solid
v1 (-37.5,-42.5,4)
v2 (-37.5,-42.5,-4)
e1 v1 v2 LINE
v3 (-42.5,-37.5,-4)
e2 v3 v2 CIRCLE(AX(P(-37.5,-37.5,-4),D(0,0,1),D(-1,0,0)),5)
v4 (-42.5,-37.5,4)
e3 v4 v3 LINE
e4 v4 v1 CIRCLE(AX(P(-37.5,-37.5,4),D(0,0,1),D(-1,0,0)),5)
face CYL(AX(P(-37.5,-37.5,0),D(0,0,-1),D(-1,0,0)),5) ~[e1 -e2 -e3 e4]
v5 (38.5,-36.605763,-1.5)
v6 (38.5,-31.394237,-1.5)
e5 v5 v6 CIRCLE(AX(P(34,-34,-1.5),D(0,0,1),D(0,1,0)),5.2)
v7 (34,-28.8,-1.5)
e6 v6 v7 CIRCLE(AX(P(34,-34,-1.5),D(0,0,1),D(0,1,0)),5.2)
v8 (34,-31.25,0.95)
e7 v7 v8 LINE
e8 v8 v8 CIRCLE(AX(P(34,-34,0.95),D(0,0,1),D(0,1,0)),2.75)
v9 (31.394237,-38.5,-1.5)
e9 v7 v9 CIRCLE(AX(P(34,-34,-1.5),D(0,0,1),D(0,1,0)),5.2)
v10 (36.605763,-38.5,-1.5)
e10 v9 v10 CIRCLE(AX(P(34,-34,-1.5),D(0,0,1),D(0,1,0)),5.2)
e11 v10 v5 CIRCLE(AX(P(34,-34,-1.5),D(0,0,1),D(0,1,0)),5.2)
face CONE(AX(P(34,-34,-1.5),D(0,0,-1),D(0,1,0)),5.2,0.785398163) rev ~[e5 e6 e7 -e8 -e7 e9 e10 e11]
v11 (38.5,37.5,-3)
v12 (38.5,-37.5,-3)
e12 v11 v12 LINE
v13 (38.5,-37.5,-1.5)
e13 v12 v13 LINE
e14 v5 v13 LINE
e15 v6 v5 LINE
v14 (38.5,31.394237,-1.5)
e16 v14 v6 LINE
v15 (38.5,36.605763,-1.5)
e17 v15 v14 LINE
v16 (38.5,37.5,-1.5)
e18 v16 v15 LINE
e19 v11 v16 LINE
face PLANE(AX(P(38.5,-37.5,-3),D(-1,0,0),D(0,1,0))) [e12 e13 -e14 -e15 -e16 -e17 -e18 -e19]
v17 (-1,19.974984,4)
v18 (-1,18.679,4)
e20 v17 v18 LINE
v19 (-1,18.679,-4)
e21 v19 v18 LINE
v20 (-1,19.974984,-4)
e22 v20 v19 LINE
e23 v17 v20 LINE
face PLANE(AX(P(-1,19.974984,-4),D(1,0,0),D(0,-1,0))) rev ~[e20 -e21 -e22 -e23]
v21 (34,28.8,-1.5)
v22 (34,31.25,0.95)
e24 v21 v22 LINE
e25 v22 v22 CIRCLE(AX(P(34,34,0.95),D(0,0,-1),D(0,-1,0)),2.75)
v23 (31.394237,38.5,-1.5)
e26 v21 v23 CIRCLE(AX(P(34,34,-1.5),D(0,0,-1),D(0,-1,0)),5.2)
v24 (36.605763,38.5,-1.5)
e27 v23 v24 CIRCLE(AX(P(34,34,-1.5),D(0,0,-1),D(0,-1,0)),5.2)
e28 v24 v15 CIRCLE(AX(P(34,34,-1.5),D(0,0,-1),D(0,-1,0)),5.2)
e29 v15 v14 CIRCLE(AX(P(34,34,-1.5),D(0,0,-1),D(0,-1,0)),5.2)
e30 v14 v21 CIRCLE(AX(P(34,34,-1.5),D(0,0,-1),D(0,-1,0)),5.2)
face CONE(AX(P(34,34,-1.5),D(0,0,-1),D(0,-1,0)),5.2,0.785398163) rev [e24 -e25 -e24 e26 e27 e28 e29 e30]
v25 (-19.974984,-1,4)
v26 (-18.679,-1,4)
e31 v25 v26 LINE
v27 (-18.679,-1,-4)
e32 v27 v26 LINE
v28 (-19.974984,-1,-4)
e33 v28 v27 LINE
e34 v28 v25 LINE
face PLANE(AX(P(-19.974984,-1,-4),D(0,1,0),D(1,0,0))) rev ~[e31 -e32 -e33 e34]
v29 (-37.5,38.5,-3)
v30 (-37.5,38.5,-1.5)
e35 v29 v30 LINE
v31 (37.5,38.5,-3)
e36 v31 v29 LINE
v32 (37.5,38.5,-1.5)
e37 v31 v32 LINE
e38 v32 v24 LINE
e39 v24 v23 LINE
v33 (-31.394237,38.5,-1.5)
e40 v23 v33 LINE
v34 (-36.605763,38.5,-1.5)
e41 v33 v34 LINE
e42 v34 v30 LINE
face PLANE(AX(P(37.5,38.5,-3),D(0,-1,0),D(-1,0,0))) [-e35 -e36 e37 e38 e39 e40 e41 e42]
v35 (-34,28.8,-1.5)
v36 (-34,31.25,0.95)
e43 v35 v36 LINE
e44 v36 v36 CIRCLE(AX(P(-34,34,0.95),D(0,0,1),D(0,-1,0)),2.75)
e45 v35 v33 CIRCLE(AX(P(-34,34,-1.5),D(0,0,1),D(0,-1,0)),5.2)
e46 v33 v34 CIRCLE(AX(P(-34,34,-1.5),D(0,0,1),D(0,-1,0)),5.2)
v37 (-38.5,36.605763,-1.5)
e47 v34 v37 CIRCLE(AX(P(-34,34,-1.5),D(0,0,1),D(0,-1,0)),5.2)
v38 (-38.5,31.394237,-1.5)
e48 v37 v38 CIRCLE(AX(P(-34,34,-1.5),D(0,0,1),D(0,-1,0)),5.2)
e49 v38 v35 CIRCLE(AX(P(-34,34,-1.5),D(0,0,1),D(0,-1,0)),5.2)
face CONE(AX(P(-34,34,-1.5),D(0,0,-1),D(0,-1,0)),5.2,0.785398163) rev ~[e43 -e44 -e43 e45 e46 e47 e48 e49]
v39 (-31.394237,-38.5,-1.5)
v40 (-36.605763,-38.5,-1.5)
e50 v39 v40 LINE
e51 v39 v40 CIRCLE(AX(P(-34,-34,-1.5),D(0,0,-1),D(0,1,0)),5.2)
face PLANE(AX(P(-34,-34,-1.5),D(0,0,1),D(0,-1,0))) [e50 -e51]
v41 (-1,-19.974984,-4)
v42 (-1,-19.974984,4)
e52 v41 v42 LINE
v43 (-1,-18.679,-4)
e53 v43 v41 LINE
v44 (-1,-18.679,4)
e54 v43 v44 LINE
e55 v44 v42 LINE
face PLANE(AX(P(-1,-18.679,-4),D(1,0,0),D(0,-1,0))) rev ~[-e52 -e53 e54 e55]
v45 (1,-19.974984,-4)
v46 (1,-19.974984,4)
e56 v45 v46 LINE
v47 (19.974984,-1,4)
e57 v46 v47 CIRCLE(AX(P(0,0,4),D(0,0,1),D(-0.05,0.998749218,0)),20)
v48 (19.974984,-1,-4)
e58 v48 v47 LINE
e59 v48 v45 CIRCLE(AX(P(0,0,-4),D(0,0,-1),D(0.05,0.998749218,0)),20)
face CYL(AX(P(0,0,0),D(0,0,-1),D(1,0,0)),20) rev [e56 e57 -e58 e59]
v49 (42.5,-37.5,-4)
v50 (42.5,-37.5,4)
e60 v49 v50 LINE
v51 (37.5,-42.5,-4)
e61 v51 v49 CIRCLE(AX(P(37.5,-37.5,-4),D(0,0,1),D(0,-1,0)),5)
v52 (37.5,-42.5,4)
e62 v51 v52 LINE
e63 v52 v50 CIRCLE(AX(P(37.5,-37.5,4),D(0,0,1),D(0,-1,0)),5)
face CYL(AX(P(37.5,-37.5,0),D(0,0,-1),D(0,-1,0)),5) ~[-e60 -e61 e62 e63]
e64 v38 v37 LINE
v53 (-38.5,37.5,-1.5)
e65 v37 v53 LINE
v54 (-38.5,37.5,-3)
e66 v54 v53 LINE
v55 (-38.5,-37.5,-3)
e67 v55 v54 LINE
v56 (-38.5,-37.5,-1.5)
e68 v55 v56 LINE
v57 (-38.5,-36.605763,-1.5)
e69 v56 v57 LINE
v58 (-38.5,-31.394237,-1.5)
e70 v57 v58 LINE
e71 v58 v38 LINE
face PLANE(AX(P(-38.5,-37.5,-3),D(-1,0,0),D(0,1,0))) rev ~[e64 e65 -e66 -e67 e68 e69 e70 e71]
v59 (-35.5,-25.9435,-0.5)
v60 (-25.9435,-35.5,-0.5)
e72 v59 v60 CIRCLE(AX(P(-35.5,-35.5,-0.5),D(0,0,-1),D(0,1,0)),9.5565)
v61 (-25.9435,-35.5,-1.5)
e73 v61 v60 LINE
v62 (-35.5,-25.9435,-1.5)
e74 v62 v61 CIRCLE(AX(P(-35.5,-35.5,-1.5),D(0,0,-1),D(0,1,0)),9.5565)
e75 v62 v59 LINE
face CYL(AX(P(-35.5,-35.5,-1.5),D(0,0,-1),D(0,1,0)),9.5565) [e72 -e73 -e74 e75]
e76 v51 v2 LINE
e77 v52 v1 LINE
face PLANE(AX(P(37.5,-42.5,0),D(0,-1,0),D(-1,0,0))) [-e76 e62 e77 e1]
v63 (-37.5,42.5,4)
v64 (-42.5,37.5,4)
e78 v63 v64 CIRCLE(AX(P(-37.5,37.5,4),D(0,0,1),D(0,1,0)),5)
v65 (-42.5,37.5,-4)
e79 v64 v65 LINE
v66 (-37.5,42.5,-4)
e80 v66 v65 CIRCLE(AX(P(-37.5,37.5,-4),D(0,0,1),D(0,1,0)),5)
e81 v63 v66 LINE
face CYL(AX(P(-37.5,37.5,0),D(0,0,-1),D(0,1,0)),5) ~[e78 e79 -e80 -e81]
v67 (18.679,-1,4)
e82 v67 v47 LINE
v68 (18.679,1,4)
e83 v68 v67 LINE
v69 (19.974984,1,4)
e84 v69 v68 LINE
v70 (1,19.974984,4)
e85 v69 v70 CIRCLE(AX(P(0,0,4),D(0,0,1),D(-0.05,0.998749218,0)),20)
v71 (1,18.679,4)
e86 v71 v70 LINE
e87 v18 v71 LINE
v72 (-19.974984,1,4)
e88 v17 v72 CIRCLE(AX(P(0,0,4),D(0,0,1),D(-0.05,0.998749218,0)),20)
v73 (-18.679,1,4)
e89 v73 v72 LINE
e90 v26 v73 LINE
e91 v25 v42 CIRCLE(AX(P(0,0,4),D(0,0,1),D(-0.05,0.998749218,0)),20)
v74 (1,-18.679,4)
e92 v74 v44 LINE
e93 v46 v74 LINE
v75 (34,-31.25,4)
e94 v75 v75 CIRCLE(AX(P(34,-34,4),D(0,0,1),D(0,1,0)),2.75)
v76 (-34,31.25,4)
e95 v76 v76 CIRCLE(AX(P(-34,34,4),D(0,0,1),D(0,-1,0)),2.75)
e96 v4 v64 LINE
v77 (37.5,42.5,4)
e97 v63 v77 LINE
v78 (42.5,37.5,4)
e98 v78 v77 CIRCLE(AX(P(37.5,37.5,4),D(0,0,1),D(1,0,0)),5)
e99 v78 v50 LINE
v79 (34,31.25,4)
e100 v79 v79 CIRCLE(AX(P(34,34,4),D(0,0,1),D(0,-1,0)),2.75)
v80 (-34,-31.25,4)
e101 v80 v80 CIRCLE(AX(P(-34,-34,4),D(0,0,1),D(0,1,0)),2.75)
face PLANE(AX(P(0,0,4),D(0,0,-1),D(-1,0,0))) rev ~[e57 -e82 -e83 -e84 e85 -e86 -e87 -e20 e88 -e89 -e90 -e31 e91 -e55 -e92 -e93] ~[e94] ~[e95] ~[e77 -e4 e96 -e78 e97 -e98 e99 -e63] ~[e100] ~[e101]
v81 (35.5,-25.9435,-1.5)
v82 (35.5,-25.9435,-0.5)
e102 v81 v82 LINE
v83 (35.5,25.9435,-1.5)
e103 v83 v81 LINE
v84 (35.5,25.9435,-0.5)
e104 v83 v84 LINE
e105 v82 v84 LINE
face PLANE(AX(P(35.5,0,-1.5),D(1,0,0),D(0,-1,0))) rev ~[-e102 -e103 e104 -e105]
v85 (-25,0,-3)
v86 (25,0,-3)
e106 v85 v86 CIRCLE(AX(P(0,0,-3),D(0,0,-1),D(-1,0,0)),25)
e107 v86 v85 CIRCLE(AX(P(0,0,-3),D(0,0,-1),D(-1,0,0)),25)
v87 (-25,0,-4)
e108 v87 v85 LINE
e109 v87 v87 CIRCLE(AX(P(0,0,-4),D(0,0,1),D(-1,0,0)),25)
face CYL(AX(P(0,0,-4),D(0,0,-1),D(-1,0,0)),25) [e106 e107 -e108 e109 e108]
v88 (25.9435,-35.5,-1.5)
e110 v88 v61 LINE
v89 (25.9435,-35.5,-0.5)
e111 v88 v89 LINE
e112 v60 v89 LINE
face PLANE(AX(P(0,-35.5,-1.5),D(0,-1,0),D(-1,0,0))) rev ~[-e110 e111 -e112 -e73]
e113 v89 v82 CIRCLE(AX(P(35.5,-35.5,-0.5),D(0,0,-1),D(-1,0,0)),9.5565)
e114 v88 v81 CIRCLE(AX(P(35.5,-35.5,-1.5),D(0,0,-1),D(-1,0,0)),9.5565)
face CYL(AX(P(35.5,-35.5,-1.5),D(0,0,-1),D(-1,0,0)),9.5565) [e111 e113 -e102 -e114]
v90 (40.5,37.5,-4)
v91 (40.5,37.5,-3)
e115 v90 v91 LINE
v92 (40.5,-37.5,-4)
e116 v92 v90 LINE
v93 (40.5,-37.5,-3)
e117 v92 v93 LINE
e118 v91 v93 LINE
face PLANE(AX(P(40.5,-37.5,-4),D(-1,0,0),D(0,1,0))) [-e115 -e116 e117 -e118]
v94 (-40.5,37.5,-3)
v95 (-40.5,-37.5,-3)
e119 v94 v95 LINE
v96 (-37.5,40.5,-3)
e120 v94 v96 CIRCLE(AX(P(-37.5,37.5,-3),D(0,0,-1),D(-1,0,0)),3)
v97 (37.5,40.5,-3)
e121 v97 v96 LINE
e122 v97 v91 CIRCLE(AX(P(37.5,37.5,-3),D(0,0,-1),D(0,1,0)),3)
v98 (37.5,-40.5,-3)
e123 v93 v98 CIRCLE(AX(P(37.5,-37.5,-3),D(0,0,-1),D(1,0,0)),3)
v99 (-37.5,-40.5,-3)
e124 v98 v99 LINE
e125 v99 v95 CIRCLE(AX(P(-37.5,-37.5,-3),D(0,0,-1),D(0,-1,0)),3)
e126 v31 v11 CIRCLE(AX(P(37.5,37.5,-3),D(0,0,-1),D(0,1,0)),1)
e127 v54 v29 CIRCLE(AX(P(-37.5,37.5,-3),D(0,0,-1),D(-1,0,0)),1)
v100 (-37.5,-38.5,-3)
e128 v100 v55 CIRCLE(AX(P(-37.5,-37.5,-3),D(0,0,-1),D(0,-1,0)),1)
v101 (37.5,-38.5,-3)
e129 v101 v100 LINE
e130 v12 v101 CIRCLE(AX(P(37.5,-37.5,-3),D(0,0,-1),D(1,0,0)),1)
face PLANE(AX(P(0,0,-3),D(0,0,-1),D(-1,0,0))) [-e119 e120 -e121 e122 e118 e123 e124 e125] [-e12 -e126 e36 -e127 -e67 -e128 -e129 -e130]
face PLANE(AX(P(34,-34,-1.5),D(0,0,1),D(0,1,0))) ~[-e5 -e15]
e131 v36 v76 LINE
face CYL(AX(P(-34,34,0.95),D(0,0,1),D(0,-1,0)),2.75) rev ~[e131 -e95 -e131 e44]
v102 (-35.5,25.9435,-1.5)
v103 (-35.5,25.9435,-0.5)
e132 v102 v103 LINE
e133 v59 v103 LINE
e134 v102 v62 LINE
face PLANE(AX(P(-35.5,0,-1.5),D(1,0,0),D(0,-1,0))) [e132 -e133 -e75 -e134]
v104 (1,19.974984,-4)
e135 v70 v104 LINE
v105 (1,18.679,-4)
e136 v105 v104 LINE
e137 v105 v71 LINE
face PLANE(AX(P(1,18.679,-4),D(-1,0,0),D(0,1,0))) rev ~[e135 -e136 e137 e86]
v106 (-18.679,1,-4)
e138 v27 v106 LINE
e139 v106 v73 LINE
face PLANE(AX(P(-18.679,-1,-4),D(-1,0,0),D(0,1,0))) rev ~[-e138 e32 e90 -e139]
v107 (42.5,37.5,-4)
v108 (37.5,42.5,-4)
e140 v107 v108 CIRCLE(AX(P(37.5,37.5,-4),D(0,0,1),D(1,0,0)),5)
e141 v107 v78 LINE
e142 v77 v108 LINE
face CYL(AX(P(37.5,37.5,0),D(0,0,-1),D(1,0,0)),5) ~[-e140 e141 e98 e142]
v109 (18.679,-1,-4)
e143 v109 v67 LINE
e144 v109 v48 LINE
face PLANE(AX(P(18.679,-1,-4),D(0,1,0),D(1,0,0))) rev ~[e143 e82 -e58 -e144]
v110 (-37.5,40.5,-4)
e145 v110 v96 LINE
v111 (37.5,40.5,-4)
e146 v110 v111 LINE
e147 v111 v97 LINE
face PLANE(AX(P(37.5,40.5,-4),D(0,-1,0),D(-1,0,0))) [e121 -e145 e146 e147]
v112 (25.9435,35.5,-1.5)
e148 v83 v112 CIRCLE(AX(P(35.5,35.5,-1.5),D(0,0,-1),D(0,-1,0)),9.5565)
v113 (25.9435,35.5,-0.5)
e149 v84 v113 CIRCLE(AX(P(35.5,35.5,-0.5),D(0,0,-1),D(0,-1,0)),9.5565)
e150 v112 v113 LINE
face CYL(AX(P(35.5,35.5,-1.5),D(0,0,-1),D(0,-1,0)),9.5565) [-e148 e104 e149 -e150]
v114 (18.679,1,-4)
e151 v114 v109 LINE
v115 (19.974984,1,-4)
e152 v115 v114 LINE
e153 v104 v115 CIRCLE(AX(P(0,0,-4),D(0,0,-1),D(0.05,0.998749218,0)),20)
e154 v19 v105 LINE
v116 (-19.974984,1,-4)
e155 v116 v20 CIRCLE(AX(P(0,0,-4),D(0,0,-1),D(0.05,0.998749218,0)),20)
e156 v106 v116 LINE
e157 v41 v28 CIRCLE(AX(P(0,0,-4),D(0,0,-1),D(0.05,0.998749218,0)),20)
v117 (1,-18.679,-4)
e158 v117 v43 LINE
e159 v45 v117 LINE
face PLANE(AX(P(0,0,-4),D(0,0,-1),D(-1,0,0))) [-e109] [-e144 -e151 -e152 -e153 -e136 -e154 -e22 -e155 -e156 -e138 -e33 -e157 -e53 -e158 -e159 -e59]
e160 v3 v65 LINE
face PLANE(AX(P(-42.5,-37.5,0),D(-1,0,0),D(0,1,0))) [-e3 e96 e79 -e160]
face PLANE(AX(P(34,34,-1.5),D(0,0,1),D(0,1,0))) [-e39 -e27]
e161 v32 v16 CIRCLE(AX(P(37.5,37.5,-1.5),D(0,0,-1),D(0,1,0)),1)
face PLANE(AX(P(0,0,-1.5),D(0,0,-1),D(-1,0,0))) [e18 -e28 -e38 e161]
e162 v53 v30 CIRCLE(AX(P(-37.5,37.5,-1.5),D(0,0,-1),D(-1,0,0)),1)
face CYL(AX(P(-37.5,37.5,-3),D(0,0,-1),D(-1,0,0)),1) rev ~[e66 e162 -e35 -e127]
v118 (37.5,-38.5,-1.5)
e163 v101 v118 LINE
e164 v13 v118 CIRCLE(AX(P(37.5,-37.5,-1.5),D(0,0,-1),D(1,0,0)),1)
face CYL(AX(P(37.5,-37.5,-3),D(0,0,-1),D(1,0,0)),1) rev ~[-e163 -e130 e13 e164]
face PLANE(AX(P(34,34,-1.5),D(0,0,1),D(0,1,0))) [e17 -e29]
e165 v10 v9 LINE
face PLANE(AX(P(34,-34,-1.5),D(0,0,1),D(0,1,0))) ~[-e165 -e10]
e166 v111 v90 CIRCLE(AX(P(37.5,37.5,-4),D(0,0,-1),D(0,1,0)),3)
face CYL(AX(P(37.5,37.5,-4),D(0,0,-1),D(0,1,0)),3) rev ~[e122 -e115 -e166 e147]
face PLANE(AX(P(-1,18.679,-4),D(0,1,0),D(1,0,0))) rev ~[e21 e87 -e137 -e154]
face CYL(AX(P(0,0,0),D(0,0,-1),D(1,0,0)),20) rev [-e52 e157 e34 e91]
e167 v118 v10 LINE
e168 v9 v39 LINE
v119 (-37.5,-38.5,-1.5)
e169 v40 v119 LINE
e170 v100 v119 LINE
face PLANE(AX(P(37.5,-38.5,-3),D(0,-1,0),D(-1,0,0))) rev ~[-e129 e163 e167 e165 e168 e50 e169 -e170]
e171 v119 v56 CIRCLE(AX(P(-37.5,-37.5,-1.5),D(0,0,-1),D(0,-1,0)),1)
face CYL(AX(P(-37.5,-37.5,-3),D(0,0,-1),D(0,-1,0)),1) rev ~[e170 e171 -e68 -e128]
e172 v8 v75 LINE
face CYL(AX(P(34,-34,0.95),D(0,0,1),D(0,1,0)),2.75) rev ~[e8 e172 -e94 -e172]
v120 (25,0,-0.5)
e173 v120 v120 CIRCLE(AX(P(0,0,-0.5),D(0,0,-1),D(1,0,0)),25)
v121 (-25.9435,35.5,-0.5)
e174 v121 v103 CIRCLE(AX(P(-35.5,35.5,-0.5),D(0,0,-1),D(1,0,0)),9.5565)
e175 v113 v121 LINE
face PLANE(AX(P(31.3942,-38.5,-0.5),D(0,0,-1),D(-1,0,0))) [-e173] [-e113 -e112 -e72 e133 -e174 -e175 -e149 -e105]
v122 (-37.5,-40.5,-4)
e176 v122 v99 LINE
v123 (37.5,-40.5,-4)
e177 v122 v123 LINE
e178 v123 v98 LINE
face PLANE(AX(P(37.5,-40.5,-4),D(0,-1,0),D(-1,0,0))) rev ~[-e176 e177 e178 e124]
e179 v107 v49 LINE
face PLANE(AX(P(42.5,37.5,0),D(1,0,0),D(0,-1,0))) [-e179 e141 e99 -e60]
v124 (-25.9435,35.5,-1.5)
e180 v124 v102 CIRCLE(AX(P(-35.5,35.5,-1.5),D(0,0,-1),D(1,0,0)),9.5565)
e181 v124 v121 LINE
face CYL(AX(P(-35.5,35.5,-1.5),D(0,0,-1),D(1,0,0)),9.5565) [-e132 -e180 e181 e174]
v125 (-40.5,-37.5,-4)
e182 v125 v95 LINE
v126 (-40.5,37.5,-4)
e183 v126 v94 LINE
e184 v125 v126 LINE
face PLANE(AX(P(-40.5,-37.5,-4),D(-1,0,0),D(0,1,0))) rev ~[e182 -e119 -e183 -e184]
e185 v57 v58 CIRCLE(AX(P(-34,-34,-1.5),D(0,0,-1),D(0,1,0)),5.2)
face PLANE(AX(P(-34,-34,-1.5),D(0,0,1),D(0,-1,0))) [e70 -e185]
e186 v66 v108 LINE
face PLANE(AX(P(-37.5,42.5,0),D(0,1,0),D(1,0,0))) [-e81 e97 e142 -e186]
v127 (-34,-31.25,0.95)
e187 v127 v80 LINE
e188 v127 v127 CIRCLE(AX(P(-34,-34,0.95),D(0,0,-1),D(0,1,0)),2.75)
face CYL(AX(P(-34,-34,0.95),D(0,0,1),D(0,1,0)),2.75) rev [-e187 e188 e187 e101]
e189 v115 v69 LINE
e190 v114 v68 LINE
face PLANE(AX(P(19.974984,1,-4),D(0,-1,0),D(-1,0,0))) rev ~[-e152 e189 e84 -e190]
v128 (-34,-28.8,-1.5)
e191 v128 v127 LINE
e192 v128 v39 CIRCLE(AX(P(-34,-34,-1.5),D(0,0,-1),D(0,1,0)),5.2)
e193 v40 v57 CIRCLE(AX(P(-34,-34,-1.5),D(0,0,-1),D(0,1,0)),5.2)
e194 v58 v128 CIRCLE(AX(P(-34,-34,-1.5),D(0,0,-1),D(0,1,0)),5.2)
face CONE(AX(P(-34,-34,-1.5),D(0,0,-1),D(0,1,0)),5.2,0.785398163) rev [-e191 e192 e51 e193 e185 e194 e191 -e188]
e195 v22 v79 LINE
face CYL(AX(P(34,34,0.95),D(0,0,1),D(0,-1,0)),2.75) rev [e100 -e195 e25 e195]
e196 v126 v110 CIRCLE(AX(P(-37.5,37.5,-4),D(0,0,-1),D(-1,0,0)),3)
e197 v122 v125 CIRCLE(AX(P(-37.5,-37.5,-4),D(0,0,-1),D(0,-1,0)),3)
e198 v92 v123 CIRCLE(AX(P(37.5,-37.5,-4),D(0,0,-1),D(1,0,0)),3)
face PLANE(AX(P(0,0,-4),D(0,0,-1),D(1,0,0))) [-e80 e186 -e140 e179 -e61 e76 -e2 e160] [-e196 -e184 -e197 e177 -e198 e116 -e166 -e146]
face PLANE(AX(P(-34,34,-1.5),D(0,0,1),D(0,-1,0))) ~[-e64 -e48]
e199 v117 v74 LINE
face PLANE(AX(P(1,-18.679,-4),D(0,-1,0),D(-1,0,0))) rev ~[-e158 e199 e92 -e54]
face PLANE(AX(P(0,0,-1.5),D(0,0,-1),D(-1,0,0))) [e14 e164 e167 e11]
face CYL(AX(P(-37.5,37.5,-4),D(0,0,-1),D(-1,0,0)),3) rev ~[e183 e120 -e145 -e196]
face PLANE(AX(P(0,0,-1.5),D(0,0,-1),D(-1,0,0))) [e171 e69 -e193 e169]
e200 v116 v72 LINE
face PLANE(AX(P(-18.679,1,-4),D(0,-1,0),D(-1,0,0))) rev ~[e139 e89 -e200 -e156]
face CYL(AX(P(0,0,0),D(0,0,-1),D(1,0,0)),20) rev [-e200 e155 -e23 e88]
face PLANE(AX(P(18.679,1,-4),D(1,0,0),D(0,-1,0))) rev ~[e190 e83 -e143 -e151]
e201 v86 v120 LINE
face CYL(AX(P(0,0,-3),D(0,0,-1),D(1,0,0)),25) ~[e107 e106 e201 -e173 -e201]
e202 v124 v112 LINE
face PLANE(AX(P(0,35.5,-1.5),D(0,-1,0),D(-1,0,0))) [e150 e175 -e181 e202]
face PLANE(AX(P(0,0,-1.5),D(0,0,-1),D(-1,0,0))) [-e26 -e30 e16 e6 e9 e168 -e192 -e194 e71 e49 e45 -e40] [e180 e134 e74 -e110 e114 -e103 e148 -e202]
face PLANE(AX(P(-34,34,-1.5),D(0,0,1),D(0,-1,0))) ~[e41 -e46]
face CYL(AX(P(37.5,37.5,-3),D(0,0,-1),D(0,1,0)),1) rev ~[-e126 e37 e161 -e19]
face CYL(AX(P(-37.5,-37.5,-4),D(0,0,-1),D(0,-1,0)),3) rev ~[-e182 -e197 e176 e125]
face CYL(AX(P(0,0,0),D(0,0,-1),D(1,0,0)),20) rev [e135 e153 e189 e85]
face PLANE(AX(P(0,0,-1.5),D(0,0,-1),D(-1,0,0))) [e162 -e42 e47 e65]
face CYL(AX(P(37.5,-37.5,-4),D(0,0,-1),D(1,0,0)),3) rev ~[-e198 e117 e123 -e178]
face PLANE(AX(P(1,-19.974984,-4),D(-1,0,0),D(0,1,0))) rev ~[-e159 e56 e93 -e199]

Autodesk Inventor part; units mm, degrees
ref_plane "YZ Plane" through (0, 0, 0) normal (1, 0, 0) x (0, 1, 0)
ref_plane "XZ Plane" through (0, 0, 0) normal (0, 1, 0) x (-1, 0, 0)
ref_plane "XY Plane" through (0, 0, 0) normal (0, 0, 1) x (1, 0, 0)
sketch "Schizzo1" plane through (0, 0, 0) normal (0, 0, 1) x (1, 0, 0)
  line L0 (37.5, -42.5) -> (-37.5, -42.5)
  line L1 (-42.5, -37.5) -> (-42.5, 37.5)
  line L2 (-37.5, 42.5) -> (37.5, 42.5)
  line L3 (42.5, 37.5) -> (42.5, -37.5)
  line L4 (42.5, -42.5) -> (-42.5, 42.5) construction
  line L5 (-42.5, -42.5) -> (42.5, 42.5) construction
  arc A0 (-42.5, -37.5) -> (-37.5, -42.5) centre (-37.5, -37.5) ccw
  line L6 (-42.5, 42.5) -> (42.5, -42.5) construction
  arc A1 (-37.5, 42.5) -> (-42.5, 37.5) centre (-37.5, 37.5) ccw
  arc A2 (37.5, -42.5) -> (42.5, -37.5) centre (37.5, -37.5) ccw
  arc A3 (42.5, 37.5) -> (37.5, 42.5) centre (37.5, 37.5) ccw
  circle A4 centre (-34, -34) radius 5.2
  circle A5 centre (-34, 34) radius 5.2
  circle A6 centre (34, -34) radius 5.2
  circle A7 centre (34, 34) radius 5.2
  circle A8 centre (0, 0) radius 12
  circle A9 centre (0, 0) radius 20
  dimension "d12" = 85
  dimension "d17" = 10.4
  dimension "d18" = 24
  dimension "d19" = 40
extrude "Estrusione1" add sketch "Schizzo1" along normal mid plane 8 contours L0 A0 L1 A1 L2 A3 L3 A2
sketch "Schizzo2" plane through (0, 0, -4) normal (0, 0, -1) x (-1, 0, 0)
  circle A0 centre (-34, 34) radius 5.2 projected
  circle A1 centre (-34, 34) radius 5.2
  circle A2 centre (-34, 34) radius 2.5
  line L0 (-37.5, 42.5) -> (37.5, 42.5) projected
  line L1 (0, 42.5) -> (0, -42.5)
  line L2 (-37.5, -42.5) -> (37.5, -42.5) projected
  line L3 (-42.5, -37.5) -> (-42.5, 37.5) projected
  line L4 (-42.5, 0) -> (42.5, 0)
  line L5 (42.5, 37.5) -> (42.5, -37.5) projected
  circle A3 centre (34, 34) radius 5.2
  circle A4 centre (34, 34) radius 2.5
  circle A5 centre (-34, -34) radius 5.2
  circle A6 centre (-34, -34) radius 2.5
  circle A7 centre (34, -34) radius 2.5
  circle A8 centre (34, -34) radius 5.2
  point P0 (0, 0)
  dimension "d22" = 5
extrude "Estrusione2" add sketch "Schizzo2" against normal blind 8 contours A3
mirror "Speculare1" about plane through (0, 0, 0) normal (1, 0, 0) of "Estrusione2"
mirror "Speculare2" about plane through (0, 0, 0) normal (0, 1, 0) of "Estrusione2", "Speculare1"
sketch "Schizzo3" plane through (0, 0, -4) normal (0, 0, -1) x (-1, 0, 0)
  line L0 (37.5, -42.5) -> (-37.5, -42.5) projected
  line L1 (0, -42.5) -> (0, -40.5)
  line L2 (-37.5, -40.5) -> (37.5, -40.5)
  line L3 (-42.5, -37.5) -> (-42.5, 37.5) projected
  line L4 (-42.5, 0) -> (42.5, 0)
  line L5 (42.5, 37.5) -> (42.5, -37.5) projected
  line L6 (0, -42.5) -> (0, 42.5)
  line L7 (-37.5, 42.5) -> (37.5, 42.5) projected
  line L8 (-37.5, 40.5) -> (37.5, 40.5)
  line L9 (-42.5, 0) -> (-40.5, 0)
  line L10 (-40.5, -37.5) -> (-40.5, 37.5)
  line L11 (40.5, -37.5) -> (40.5, 37.5)
  arc A0 (37.5, -40.5) -> (40.5, -37.5) centre (37.5, -37.5) ccw
  arc A1 (-40.5, -37.5) -> (-37.5, -40.5) centre (-37.5, -37.5) ccw
  arc A2 (40.5, 37.5) -> (37.5, 40.5) centre (37.5, 37.5) ccw
  arc A3 (-37.5, 40.5) -> (-40.5, 37.5) centre (-37.5, 37.5) ccw
  circle A4 centre (0, 0) radius 20 projected
  circle A5 centre (0, 0) radius 25
  dimension "d25" = 2
  dimension "d27" = 2
extrude "Estrusione3" cut sketch "Schizzo3" against normal blind 1 contours A1 L10 L4 A5 L6 L2 | L6 A5 L4 L11 A0 L2 | L10 A3 L8 L6 A5 L4 | A5 L6 L8 A2 L11 L4
sketch "Schizzo4" plane through (0, 0, -3) normal (0, 0, -1) x (-1, 0, 0)
  line L0 (37.5, -40.5) -> (-37.5, -40.5) projected
  line L1 (0, -40.5) -> (0, -38.5)
  line L2 (-37.5, -38.5) -> (37.5, -38.5)
  line L3 (-42.5, 37.5) -> (-42.5, -37.5) projected
  line L4 (-37.5, -42.5) -> (37.5, -42.5) projected
  line L5 (37.5, 42.5) -> (-37.5, 42.5) projected
  line L6 (-37.5, 38.5) -> (37.5, 38.5)
  line L7 (-38.4396, 0) -> (-0.9396, 0) construction
  line L8 (-40.5, -37.5) -> (-40.5, 37.5) projected
  line L9 (-40.5, 0) -> (-38.5, 0)
  line L10 (-38.5, -37.5) -> (-38.5, 37.5)
  arc A0 (-37.5, 38.5) -> (-38.5, 37.5) centre (-37.5, 37.5) ccw
  line L11 (38.5, -37.5) -> (38.5, 37.5)
  arc A1 (38.5, 37.5) -> (37.5, 38.5) centre (37.5, 37.5) ccw
  arc A2 (-38.5, -37.5) -> (-37.5, -38.5) centre (-37.5, -37.5) ccw
  arc A3 (37.5, -38.5) -> (38.5, -37.5) centre (37.5, -37.5) ccw
  point P0 (0, 0)
  dimension "d31" = 2
  dimension "d35" = 2
  dimension "d36" = 75
extrude "Estrusione4" cut sketch "Schizzo4" against normal blind 1.5 from surface at 0
sketch "Schizzo5" plane through (37.5, -38.5, -1.5) normal (0, 0, -1) x (-1, 0, 0)
  circle A0 centre (3.5, 4.5) radius 2.5 projected
  circle A1 centre (3.5, 4.5) radius 2.5
  point P0 (37.5, 38.5)
hole "Foro1" at (34, -34, -1.5) direction (0, 0, 1) diameter 5.5 end through all countersink diameter 10.4 countersink angle 90 clearance for "Vite a testa svasata piana ISO 2009/7046" size "M5" standard "ISO"
mirror "Speculare3" about plane through (0, 0, 0) normal (1, 0, 0) of "Foro1"
mirror "Speculare4" about plane through (0, 0, 0) normal (0, 1, 0) of "Foro1", "Speculare3"
sketch "Schizzo6" plane through (31.3942, -38.5, -1.5) normal (0, 0, -1) x (-1, 0, 0)
  line L0 (62.7885, 0) -> (0, 0) projected
  line L1 (31.3942, 0) -> (31.3942, 3)
  line L2 (31.3942, 3) -> (57.3377, 3)
  line L3 (31.3942, 3) -> (5.4507, 3)
  line L4 (-7.1058, 1) -> (-7.1058, 76) projected
  line L5 (-7.1058, 38.5) -> (-4.1058, 38.5)
  line L6 (-4.1058, 38.5) -> (-4.1058, 64.4435)
  line L7 (-4.1058, 38.5) -> (-4.1058, 12.5565)
  line L8 (-11.1058, 1) -> (-11.1058, 76) projected
  line L9 (-11.1058, 38.5) -> (73.8942, 38.5)
  line L10 (73.8942, 76) -> (73.8942, 1) projected
  line L11 (31.3942, -3.9455) -> (31.3942, 81)
  line L12 (-6.1058, 81) -> (68.8942, 81) projected
  line L13 (31.3942, 74) -> (57.3377, 74)
  line L14 (31.3942, 74) -> (5.4507, 74)
  line L15 (66.8942, 38.5) -> (66.8942, 64.4435)
  line L16 (66.8942, 38.5) -> (66.8942, 12.5565)
  arc A0 (66.8942, 12.5565) -> (57.3377, 3) centre (66.8942, 3) ccw
  arc A1 (57.3377, 74) -> (66.8942, 64.4435) centre (66.8942, 74) ccw
  arc A2 (5.4507, 3) -> (-4.1058, 12.5565) centre (-4.1058, 3) ccw
  arc A3 (-4.1058, 64.4435) -> (5.4507, 74) centre (-4.1058, 74) ccw
  point P0 (31.3942, 38.5)
  dimension "d46" = 3
  dimension "d47" = 25.9435
  dimension "d48" = 25.9435
  dimension "d49" = 3
  dimension "d51" = 25.9435
extrude "Estrusione5" cut sketch "Schizzo6" against normal blind 1
sketch "Schizzo8" plane through (0, 0, -4) normal (0, 0, -1) x (-1, 0, 0)
  line L0 (-1, 21.321) -> (1, 21.321)
  line L1 (1, 21.321) -> (1, 18.679)
  line L2 (1, 18.679) -> (-1, 18.679)
  line L3 (-1, 18.679) -> (-1, 21.321)
  circle A0 centre (0, 0) radius 20 projected
  line L4 (-1, 21.321) -> (1, 18.679) construction
  line L5 (1, 21.321) -> (-1, 18.679) construction
  point P0 (0, 20)
  point P1 (1, 19.975)
  point P2 (-1, 19.975)
  dimension "d54" = 2
  dimension "d55" = 2.642
sketch "Schizzo9" plane through (0, 0, -3) normal (0, 0, 1) x (1, 0, 0)
  circle A0 centre (0, 0) radius 25
  circle A1 centre (0, 0) radius 20
  dimension "d56" = 50
extrude "Estrusione6" add sketch "Schizzo9" along normal blind 2.7
extrude "Estrusione7" add sketch "Schizzo8" against normal blind 8 contours A0 L1 L2 L3 picked at (0.1112, 19.1184)
pattern_circular "Serie circolare1" count 4 over 360 about axis through (0, 0, 0) along (0, 0, 1) of "Estrusione7"
